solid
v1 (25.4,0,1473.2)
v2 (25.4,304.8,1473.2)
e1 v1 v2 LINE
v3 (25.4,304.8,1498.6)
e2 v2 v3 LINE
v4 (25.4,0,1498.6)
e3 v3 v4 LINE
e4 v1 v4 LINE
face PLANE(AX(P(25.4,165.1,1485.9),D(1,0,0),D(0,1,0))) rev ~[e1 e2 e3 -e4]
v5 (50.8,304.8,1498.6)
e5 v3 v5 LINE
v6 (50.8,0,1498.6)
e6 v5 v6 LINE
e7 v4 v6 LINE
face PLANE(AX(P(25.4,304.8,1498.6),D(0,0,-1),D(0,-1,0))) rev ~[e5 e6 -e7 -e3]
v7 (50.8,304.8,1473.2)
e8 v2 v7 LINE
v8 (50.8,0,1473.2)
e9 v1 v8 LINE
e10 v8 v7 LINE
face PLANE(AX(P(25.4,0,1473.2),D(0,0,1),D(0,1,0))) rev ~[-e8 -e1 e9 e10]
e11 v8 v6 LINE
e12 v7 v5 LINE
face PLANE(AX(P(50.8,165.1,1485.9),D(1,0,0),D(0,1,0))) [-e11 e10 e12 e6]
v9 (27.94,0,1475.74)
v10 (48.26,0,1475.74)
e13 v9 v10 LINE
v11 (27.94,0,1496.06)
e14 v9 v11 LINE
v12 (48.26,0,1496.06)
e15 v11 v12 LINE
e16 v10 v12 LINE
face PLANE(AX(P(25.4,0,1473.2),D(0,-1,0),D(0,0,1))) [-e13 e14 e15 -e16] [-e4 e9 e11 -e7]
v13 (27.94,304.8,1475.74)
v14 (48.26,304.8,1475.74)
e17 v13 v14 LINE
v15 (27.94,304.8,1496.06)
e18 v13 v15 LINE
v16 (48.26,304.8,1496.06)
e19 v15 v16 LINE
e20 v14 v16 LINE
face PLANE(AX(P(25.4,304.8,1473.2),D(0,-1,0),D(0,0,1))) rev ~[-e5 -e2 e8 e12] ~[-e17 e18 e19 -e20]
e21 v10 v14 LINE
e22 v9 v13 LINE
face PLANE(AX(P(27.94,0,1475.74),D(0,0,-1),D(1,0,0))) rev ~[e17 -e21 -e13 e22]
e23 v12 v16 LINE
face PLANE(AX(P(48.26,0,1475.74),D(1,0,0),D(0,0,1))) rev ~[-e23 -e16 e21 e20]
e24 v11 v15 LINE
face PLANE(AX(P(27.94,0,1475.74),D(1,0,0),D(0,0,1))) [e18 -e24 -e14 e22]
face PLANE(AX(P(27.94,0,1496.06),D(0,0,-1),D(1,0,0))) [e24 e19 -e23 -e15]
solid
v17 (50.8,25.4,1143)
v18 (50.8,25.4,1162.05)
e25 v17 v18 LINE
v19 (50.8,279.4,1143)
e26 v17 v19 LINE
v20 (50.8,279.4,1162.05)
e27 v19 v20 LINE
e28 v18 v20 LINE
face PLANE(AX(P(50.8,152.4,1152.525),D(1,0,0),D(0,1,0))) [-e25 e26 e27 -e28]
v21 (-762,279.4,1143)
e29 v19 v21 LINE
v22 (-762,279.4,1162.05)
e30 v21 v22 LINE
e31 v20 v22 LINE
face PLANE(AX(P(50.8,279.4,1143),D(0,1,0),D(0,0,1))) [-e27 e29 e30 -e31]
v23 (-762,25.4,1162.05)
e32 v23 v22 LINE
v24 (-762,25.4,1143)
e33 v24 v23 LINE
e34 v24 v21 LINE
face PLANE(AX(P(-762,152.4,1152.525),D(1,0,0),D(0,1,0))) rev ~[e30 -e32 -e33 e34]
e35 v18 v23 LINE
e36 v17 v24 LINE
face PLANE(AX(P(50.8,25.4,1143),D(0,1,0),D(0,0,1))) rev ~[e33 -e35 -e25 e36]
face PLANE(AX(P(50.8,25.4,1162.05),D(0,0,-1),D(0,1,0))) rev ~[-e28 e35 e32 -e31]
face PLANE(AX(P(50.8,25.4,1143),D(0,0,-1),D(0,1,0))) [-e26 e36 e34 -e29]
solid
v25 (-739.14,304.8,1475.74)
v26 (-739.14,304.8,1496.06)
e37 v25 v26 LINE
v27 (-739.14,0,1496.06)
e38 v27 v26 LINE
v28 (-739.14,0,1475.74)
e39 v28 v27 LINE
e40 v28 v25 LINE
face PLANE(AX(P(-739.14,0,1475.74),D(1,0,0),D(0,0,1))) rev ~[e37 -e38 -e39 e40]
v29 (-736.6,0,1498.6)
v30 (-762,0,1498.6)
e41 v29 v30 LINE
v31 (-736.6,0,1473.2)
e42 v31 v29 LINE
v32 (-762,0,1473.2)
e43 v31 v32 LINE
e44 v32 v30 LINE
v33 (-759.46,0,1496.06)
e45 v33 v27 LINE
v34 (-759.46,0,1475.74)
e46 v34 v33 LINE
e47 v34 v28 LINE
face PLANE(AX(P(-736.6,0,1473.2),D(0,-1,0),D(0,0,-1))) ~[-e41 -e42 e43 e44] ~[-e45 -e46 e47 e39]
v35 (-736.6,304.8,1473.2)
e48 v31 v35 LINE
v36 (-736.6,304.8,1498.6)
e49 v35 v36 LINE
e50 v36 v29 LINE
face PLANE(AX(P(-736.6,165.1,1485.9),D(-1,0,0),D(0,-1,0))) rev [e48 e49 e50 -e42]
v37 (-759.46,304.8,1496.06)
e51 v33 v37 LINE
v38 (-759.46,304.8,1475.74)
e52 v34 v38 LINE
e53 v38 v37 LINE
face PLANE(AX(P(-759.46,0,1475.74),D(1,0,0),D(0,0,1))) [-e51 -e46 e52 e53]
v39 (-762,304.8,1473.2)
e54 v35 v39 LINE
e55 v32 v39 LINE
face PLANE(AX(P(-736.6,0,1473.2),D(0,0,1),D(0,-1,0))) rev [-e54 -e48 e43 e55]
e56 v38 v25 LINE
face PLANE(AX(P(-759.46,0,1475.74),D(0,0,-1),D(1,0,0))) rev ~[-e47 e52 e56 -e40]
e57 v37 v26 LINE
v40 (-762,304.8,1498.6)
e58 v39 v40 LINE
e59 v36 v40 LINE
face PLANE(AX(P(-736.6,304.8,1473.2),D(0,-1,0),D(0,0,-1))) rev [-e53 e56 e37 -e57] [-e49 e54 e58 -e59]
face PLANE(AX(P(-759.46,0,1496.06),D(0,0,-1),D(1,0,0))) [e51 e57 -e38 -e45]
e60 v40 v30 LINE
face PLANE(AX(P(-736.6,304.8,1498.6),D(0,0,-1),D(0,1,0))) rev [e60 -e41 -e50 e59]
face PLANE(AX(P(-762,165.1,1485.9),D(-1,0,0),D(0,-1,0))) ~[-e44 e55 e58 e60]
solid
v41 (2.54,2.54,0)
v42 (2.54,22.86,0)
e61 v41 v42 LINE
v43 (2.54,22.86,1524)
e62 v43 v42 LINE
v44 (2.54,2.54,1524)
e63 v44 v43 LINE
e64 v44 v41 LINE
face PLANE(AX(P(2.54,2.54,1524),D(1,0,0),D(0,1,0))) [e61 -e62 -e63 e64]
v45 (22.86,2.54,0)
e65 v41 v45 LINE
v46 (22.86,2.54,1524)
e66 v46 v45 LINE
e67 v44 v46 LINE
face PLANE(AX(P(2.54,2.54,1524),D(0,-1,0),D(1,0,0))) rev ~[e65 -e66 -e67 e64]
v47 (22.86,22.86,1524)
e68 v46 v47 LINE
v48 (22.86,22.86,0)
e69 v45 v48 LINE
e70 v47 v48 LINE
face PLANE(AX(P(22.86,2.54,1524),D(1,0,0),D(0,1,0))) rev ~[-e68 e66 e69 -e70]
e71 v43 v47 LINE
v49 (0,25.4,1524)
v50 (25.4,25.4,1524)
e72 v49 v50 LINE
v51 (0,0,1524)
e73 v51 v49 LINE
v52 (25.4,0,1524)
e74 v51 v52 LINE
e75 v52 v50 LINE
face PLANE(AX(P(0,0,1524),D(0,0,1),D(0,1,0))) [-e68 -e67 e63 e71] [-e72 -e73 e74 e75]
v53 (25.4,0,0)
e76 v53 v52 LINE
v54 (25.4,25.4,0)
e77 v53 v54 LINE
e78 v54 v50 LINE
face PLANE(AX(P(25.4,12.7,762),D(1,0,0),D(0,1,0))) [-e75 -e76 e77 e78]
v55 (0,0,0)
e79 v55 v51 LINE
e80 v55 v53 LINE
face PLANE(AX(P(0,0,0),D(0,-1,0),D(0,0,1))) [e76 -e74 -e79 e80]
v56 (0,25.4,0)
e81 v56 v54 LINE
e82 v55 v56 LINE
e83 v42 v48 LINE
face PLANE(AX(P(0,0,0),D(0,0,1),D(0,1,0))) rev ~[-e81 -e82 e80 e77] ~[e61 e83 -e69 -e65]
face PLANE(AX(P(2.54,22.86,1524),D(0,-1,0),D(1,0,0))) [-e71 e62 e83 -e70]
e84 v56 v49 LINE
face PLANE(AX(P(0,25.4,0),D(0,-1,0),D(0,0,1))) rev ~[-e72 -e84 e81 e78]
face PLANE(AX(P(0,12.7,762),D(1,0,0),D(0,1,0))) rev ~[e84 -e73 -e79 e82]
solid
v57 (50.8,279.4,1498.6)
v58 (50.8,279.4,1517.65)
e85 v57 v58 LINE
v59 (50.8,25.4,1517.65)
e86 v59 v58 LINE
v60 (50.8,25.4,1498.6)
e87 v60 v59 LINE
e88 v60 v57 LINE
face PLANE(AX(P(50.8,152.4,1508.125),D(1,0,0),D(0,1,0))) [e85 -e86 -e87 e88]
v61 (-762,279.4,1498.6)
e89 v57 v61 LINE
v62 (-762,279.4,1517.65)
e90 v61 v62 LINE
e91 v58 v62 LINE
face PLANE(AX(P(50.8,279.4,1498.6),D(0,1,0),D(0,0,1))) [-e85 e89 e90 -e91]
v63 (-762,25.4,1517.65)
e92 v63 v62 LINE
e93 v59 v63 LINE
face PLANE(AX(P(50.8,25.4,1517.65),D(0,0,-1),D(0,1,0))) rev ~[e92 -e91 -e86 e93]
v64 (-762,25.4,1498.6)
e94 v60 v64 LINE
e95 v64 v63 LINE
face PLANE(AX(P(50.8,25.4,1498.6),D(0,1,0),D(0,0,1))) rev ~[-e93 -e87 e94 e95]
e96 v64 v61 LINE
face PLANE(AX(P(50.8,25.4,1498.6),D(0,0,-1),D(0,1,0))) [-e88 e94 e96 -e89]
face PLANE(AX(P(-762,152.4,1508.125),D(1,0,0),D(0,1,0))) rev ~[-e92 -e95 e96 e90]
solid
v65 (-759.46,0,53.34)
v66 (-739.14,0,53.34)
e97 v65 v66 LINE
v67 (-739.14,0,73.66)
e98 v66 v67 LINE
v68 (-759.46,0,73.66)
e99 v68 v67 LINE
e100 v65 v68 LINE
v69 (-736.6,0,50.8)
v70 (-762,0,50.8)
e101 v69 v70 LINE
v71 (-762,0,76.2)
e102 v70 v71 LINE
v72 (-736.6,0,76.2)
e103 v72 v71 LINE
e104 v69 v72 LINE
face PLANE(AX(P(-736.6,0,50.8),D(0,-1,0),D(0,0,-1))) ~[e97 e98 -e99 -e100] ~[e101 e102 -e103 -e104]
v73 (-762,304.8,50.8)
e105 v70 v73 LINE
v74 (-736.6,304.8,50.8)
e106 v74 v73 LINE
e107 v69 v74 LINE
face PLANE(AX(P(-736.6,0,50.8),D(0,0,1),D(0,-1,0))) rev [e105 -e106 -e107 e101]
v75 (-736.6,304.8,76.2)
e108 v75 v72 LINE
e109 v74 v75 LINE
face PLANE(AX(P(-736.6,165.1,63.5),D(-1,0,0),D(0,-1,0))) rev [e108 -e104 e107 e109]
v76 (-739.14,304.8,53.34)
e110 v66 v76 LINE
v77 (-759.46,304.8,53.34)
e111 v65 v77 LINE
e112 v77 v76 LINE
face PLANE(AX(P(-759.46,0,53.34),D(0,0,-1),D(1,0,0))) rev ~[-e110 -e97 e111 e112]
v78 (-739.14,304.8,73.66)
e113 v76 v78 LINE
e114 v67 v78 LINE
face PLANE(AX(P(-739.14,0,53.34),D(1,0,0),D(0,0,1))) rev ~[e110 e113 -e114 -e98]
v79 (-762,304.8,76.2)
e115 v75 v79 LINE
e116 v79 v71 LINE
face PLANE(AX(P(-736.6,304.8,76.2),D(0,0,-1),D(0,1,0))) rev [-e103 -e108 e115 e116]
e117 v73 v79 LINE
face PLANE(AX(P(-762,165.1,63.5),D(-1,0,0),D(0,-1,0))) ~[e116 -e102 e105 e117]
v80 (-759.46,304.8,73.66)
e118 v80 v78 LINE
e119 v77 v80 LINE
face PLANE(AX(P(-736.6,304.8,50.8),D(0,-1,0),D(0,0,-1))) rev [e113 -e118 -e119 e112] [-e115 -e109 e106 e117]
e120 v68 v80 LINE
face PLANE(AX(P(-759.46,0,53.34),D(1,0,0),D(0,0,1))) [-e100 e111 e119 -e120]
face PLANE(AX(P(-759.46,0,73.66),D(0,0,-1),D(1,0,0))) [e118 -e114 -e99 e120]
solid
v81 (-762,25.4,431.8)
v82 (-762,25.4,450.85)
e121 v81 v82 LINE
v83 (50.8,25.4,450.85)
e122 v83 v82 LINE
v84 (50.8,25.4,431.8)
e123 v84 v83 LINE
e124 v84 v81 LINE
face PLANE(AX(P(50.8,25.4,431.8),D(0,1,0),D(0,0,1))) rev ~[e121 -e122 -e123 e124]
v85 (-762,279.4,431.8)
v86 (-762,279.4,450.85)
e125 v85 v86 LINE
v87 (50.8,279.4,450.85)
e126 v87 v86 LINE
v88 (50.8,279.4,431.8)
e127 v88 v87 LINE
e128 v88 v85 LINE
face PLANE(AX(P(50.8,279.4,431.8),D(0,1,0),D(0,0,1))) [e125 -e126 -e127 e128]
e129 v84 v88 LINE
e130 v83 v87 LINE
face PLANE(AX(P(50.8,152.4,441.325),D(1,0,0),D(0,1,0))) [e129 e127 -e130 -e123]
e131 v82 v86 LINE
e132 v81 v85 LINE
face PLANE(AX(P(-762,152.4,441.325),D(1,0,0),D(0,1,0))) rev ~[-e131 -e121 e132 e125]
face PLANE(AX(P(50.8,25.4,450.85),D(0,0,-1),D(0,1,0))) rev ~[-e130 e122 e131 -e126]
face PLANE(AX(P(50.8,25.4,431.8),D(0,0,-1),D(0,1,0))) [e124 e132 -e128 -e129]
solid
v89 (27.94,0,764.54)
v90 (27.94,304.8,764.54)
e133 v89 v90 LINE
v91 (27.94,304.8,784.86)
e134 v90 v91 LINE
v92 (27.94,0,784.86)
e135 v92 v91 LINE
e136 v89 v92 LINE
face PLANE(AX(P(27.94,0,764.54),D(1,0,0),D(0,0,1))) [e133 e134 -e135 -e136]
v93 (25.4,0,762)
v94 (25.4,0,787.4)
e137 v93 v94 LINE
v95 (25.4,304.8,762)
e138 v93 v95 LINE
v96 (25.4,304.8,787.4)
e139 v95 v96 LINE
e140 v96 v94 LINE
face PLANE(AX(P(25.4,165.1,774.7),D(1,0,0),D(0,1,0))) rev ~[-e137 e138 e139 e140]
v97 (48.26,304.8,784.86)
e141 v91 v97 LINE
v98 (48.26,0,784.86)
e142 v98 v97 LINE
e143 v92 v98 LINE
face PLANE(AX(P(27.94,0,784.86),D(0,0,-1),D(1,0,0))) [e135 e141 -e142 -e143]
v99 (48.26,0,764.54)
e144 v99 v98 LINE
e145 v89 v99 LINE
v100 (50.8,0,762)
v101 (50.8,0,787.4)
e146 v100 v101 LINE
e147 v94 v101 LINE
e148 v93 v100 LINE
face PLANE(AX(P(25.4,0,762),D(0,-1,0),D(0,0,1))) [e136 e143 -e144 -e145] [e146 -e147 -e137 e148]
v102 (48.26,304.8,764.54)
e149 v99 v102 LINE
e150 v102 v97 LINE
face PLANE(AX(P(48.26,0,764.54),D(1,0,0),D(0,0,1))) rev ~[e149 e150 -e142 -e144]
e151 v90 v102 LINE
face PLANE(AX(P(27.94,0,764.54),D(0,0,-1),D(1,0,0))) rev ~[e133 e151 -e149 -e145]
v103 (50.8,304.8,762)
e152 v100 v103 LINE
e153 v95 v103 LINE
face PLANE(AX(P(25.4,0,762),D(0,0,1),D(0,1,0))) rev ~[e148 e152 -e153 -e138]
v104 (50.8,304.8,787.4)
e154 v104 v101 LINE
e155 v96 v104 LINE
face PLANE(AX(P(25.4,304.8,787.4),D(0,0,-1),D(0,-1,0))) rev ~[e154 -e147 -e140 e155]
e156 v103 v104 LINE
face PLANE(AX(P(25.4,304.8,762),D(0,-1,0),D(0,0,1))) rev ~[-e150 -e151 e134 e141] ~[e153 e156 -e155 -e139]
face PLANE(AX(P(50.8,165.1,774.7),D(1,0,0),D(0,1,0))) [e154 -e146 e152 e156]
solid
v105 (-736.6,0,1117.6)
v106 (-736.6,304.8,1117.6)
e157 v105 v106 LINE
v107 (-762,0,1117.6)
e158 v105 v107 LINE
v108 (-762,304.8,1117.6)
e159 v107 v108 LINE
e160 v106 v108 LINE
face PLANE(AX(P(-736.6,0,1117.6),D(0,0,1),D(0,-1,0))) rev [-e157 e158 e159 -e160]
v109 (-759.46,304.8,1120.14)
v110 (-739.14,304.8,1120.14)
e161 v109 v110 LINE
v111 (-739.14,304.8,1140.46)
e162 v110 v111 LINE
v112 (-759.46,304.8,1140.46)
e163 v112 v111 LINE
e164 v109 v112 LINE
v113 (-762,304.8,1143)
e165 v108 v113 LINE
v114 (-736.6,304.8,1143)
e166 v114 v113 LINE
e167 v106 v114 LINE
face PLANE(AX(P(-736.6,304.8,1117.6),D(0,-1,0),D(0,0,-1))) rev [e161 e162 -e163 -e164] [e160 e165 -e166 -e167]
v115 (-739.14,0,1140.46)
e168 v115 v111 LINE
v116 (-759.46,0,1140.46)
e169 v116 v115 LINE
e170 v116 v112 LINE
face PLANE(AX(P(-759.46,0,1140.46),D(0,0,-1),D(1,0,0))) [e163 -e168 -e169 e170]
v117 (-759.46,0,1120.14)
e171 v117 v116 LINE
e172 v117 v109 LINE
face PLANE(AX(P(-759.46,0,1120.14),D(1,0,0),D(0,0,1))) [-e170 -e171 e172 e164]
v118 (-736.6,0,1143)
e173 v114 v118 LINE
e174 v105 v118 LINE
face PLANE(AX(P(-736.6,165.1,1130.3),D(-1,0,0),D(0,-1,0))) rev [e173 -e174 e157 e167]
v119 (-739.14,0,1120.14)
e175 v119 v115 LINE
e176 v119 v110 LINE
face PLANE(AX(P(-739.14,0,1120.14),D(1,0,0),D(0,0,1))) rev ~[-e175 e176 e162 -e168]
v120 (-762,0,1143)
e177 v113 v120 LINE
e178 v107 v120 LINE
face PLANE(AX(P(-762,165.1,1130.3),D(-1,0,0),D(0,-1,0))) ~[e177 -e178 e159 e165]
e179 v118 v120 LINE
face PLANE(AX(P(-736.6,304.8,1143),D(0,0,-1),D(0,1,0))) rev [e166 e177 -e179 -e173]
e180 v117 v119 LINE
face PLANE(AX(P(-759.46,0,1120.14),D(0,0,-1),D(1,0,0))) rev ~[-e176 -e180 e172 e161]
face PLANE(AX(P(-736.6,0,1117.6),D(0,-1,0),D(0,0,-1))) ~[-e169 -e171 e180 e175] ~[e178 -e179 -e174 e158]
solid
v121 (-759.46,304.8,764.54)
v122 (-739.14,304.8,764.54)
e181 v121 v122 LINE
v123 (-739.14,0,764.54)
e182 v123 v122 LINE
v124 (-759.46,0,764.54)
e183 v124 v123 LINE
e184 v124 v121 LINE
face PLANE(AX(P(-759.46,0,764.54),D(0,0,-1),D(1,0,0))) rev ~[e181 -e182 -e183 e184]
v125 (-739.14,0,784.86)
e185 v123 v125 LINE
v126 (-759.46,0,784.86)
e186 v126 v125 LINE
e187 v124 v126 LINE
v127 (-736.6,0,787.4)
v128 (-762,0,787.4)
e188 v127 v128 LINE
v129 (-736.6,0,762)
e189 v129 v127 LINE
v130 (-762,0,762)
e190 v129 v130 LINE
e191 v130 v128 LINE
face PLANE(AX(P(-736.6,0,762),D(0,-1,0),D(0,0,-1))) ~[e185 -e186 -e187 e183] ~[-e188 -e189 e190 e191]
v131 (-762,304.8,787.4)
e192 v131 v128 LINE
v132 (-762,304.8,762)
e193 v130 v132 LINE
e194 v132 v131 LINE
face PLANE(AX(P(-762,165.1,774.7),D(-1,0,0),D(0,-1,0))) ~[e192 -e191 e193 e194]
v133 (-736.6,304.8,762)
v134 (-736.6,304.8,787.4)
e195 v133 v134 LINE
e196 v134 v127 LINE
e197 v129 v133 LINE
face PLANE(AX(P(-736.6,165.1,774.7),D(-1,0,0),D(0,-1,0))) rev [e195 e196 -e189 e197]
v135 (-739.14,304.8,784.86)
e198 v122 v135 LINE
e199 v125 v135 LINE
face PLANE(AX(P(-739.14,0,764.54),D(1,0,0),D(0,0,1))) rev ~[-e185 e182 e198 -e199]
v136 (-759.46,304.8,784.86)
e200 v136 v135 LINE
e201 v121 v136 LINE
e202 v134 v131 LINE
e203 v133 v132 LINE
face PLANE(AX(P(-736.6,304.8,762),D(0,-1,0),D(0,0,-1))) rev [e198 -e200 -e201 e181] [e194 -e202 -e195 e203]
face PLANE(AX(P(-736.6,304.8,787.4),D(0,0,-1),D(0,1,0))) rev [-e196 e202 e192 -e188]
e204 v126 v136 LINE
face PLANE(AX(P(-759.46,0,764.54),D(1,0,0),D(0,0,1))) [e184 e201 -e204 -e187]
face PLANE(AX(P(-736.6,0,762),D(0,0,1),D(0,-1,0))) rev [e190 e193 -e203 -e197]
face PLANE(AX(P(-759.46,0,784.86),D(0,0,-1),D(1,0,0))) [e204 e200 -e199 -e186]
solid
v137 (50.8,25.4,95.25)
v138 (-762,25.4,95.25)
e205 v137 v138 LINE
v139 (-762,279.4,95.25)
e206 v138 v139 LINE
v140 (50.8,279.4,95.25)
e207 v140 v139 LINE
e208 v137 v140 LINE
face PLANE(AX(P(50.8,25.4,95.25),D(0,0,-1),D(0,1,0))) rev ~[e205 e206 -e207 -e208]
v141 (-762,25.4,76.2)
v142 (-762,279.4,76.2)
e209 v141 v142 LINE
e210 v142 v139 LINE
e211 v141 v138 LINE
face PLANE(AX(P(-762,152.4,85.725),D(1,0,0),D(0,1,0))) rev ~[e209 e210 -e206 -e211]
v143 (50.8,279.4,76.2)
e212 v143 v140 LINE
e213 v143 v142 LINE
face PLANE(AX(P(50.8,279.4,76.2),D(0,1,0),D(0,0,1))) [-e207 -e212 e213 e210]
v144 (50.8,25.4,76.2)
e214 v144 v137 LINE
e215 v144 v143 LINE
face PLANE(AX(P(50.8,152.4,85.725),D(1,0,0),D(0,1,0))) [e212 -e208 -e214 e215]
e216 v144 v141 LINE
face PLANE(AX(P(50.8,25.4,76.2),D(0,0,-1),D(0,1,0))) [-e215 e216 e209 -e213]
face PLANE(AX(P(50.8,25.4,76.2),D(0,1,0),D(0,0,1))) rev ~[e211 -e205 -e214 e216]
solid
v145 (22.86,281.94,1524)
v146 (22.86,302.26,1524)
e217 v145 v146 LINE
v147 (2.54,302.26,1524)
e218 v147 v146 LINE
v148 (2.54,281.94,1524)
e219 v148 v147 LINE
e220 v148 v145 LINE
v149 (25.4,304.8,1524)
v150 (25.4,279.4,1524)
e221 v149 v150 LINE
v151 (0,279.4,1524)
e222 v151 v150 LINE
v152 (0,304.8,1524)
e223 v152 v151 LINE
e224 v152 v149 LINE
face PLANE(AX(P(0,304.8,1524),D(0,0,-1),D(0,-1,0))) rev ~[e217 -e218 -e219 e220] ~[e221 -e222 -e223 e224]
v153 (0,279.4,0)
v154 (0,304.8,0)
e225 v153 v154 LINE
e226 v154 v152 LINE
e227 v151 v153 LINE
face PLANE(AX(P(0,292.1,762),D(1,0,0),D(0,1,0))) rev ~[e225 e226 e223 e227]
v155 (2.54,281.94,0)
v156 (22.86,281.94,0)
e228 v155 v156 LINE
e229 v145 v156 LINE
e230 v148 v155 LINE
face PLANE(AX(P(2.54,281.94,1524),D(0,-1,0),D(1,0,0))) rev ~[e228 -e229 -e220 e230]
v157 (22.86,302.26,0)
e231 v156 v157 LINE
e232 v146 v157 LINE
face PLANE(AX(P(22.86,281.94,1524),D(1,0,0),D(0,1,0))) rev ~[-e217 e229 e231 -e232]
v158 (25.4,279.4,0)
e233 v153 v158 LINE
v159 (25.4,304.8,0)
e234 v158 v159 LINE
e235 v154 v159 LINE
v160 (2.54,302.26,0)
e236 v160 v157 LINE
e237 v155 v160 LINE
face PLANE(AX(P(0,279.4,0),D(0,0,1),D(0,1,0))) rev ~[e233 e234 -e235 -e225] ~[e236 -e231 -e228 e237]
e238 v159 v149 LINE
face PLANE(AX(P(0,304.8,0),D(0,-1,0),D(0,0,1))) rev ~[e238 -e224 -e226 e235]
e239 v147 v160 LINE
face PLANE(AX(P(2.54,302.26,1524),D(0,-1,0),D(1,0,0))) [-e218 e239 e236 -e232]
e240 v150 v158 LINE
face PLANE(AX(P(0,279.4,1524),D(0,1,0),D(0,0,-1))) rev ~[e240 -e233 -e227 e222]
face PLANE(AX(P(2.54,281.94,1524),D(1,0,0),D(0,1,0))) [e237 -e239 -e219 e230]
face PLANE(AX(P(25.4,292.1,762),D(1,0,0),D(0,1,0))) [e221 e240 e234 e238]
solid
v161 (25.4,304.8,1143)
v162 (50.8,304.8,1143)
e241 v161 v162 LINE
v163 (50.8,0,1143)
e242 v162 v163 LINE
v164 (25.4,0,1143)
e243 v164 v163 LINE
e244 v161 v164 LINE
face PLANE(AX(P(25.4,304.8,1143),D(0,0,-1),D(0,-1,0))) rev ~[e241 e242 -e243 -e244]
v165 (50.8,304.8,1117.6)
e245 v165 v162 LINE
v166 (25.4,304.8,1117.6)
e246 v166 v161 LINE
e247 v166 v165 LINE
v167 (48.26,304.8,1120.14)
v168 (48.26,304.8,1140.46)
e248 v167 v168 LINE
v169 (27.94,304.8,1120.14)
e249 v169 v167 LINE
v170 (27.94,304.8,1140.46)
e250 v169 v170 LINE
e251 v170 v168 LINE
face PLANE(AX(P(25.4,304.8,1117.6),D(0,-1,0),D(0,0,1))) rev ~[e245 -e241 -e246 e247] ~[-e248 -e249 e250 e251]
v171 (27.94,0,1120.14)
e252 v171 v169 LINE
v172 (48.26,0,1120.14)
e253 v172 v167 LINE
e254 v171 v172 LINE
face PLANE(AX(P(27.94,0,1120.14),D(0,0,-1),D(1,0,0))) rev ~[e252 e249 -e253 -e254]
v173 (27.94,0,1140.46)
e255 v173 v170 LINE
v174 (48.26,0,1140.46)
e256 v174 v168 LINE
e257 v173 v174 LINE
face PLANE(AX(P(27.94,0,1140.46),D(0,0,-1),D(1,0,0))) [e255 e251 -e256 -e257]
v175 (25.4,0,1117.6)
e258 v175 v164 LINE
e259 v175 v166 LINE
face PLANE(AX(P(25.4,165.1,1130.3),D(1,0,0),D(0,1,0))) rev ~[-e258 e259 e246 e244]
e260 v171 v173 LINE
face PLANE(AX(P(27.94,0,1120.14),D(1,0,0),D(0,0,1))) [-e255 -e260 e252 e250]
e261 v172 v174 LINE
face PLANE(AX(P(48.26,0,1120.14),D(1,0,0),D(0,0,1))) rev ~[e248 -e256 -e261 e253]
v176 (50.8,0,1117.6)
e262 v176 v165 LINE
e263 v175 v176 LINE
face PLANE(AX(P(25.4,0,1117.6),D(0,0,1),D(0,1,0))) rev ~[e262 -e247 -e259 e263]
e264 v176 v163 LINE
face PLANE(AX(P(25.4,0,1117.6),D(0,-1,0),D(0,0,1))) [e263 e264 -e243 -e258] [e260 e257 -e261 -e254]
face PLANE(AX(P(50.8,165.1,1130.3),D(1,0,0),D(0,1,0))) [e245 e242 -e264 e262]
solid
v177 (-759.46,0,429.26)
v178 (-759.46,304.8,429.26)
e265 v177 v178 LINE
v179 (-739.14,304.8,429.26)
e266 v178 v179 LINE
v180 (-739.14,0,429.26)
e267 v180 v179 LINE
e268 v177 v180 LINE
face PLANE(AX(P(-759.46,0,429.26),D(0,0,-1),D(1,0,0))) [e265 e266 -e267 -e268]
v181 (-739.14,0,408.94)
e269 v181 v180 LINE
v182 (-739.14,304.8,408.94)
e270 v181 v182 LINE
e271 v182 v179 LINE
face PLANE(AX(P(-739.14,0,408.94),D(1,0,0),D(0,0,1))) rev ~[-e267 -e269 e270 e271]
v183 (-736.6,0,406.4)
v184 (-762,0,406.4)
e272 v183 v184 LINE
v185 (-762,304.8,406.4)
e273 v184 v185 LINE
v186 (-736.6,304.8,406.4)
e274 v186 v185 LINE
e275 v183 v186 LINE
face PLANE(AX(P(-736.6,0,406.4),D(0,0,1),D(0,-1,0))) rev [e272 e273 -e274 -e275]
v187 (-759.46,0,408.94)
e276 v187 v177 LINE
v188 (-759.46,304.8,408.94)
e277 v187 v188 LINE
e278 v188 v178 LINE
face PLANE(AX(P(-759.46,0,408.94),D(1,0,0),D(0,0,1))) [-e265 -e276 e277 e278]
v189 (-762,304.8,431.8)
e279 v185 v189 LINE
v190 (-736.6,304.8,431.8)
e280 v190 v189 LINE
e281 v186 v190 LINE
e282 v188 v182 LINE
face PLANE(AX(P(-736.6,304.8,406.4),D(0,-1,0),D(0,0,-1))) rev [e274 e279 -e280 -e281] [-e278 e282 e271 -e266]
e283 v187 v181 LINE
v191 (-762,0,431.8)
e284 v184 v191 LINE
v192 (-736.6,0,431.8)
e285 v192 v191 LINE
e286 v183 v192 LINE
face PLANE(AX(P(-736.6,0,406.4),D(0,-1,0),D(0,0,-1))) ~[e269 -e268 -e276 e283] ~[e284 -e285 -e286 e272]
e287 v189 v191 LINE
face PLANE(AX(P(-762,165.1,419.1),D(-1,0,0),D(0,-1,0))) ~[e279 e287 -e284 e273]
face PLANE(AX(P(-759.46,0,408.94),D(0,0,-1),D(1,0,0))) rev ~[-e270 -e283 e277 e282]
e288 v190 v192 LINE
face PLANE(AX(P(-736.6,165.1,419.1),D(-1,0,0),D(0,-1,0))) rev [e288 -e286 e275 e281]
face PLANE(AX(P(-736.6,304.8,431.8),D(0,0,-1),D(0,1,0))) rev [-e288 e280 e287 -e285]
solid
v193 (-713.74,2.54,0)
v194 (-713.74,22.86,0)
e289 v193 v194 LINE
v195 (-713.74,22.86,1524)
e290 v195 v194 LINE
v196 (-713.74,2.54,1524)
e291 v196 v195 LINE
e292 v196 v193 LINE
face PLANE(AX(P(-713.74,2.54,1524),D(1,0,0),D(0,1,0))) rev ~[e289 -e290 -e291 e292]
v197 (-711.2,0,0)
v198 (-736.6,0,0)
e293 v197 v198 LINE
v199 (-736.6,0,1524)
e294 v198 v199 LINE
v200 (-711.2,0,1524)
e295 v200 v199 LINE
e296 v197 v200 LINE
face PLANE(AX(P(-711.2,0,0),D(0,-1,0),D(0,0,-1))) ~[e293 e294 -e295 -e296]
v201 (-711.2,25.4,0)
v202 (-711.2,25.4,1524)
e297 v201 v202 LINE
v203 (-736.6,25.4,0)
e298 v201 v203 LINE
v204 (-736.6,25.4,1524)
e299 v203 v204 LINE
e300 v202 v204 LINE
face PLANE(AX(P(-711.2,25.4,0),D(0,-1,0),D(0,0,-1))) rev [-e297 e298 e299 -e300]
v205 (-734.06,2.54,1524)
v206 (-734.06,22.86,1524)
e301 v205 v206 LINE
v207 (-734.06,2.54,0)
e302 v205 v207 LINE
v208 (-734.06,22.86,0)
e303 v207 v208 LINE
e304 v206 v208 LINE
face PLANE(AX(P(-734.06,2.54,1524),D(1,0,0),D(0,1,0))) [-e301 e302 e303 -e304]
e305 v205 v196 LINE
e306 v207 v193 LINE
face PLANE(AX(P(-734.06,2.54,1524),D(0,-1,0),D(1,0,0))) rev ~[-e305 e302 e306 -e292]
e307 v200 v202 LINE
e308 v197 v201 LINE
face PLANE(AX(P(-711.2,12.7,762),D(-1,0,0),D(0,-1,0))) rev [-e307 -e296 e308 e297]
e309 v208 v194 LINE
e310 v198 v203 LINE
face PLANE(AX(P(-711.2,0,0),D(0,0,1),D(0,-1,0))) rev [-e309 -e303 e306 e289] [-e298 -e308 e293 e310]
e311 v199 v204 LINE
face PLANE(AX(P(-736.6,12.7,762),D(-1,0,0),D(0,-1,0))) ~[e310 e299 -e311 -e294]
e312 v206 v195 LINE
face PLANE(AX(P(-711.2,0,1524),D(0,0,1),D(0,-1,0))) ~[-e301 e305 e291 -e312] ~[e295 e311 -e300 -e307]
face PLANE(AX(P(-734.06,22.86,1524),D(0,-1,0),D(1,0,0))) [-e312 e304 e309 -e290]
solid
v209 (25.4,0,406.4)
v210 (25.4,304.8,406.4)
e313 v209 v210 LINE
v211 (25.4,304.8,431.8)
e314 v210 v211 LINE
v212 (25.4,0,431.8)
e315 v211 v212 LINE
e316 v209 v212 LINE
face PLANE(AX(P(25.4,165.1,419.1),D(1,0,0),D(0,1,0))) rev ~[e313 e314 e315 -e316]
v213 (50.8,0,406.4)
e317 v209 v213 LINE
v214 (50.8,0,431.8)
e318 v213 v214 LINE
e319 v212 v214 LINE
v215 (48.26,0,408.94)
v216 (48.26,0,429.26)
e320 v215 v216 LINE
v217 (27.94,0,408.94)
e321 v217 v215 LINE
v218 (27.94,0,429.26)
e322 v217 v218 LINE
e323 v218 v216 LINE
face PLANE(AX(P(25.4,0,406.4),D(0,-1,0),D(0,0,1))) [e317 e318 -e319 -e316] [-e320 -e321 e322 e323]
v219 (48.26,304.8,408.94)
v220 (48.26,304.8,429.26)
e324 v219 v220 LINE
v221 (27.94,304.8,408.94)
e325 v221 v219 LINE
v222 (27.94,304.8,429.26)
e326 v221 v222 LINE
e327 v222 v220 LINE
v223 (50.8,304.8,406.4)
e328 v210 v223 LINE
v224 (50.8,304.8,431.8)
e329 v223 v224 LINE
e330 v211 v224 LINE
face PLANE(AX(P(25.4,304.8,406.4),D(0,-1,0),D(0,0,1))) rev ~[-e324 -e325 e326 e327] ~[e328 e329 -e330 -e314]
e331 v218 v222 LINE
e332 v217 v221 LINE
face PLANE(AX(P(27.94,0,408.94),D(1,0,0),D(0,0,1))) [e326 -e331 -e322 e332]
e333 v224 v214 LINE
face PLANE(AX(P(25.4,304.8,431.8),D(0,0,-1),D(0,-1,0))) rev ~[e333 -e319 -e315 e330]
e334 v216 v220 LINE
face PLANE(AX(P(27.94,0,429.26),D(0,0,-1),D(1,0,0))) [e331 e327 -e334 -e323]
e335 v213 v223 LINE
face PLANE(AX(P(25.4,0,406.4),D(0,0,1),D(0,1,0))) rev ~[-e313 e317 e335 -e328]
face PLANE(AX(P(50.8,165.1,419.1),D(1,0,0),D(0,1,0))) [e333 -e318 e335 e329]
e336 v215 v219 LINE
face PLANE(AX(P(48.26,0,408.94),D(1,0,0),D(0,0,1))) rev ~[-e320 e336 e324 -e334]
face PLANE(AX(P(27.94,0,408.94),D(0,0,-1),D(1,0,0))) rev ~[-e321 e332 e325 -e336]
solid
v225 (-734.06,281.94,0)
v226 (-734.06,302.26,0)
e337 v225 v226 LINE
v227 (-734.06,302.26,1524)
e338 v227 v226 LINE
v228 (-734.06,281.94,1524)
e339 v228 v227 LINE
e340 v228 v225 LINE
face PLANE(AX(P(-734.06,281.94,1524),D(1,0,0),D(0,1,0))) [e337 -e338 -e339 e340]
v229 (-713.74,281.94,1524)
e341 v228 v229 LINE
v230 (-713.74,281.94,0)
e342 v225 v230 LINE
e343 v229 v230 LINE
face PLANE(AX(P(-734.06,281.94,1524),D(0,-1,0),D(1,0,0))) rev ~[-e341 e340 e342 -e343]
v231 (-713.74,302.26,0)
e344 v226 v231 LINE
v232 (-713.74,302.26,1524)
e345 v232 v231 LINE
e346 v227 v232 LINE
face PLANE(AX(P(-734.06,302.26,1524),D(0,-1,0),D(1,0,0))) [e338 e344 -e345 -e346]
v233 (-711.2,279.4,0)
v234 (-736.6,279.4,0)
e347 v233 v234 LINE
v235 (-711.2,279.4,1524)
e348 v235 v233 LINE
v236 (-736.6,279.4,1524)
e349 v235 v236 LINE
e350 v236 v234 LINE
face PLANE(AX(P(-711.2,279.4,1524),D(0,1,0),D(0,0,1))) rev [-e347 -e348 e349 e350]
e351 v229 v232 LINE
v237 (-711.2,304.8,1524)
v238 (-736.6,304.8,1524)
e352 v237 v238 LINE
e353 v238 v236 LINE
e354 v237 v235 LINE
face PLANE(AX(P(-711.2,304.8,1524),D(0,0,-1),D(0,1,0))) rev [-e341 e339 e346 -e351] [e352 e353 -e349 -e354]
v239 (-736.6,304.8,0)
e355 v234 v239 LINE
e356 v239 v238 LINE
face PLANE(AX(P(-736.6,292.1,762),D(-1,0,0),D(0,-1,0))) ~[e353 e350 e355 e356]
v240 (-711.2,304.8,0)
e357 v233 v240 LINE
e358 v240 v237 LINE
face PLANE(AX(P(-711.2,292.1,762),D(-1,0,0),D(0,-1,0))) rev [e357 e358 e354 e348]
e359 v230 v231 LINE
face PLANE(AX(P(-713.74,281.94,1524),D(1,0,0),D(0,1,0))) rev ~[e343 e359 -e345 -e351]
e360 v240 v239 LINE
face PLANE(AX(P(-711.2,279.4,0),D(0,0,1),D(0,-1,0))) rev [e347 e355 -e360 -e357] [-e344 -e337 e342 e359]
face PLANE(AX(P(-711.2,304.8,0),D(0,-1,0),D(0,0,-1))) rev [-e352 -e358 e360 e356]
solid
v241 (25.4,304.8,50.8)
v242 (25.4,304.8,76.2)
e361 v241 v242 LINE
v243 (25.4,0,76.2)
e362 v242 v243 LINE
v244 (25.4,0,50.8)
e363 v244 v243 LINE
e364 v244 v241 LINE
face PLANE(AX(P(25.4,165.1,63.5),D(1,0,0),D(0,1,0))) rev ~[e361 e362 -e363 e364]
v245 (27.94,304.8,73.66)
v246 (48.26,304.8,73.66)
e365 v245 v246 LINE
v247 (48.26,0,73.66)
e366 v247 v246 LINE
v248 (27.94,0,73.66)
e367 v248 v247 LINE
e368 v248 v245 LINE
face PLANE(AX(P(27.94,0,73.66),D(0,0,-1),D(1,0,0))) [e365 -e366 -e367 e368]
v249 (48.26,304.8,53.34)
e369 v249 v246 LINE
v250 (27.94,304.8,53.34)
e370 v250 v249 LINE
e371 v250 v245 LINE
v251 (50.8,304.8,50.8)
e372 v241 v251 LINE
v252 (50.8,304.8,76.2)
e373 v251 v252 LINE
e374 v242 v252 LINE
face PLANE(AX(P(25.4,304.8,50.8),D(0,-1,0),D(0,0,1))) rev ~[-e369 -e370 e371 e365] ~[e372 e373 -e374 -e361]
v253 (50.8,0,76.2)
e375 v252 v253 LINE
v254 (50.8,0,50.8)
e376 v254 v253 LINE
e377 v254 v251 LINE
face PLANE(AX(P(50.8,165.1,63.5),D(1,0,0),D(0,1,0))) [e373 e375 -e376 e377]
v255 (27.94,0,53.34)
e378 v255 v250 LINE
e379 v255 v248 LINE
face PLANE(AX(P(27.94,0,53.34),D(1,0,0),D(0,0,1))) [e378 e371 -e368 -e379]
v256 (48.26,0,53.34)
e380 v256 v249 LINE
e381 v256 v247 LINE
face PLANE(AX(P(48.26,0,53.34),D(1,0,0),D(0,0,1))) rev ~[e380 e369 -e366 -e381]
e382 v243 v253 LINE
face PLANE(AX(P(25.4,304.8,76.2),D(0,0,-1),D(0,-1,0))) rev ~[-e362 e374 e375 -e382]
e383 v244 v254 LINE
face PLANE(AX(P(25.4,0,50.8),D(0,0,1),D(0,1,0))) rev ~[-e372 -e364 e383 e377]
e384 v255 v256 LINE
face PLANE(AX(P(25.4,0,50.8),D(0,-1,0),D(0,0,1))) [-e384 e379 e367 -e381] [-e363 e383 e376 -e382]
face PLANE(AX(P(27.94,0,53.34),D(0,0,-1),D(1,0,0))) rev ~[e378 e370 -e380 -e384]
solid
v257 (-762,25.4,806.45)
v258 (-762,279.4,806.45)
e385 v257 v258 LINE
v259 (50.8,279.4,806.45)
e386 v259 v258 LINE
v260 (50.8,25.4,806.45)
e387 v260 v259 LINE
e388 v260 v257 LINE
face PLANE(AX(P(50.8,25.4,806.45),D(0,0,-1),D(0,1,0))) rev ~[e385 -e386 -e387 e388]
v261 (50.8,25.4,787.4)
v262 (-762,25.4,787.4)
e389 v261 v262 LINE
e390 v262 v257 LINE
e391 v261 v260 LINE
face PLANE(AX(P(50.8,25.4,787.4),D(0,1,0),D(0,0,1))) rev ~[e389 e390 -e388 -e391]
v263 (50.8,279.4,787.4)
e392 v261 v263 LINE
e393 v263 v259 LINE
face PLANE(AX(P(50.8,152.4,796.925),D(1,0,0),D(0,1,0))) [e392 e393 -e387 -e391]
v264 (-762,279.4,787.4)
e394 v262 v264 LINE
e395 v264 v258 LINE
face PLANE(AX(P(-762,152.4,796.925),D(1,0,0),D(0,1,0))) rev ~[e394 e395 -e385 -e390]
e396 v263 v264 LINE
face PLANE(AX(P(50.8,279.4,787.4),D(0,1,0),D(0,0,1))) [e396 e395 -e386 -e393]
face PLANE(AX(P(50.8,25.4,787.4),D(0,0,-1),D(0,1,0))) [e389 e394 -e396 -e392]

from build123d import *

# Parameters (mm, degrees)
F0_W      = 25.4
F0_H      = 1524
F1_DEPTH  = 25.4
F2_W      = 279.4
F2_H      = 25.4
F2_W_2    = 25.4
F4_DEPTH  = 25.4
F6_W      = 254
F6_H      = 19.05
F7_DEPTH  = 812.8
F8_W      = 20.32
F8_H      = 20.32
F9_DEPTH  = 304.8
F10_W     = 20.32
F10_H     = 20.32
F11_DEPTH = 1524


with BuildPart() as f1:
    # F0 (on Right) → F1 (new body)
    with BuildSketch(Plane.YZ):
        with Locations((12.7, 762)):
            Rectangle(F0_W, F0_H)
        Polygon((304.8, 1524), (279.4, 1524), (279.4, 1498.6), (279.4, 0), (304.8, 0), align=None)
    extrude(amount=F1_DEPTH)


with BuildPart() as f4:
    # F2 (on face) → F4 (new body)
    with BuildSketch(Plane.YZ.offset(25.4)):
        with Locations((165.1, 1485.9)):
            Rectangle(F2_W, F2_H)
        with Locations((165.1, 1130.3)):
            Rectangle(F2_W, F2_H)
        with Locations((165.1, 774.7)):
            Rectangle(F2_W, F2_H)
        with Locations((165.1, 419.1)):
            Rectangle(F2_W, F2_H)
        with Locations((165.1, 63.5)):
            Rectangle(F2_W, F2_H)
        with Locations((12.7, 1130.3)):
            Rectangle(F2_W_2, F2_H)
        with Locations((12.7, 774.7)):
            Rectangle(F2_W_2, F2_H)
        with Locations((12.7, 419.1)):
            Rectangle(F2_W_2, F2_H)
        with Locations((12.7, 63.5)):
            Rectangle(F2_W_2, F2_H)
        with Locations((12.7, 1485.9)):
            Rectangle(F2_W_2, F2_H)
    extrude(amount=F4_DEPTH)


with BuildPart() as f5_1:
    # F5: instance of F1
    add(f1.part.mirror(Plane.YZ.offset(-355.6)))


with BuildPart() as f5_2:
    # F5: instance of F4
    add(f4.part.mirror(Plane.YZ.offset(-355.6)))


with BuildPart() as f7:
    # F6 (on face) → F7 (new body)
    with BuildSketch(Plane.YZ.offset(50.8)):
        with Locations((152.4, 1508.125)):
            Rectangle(F6_W, F6_H)
        with Locations((152.4, 1152.525)):
            Rectangle(F6_W, F6_H)
        with Locations((152.4, 796.925)):
            Rectangle(F6_W, F6_H)
        with Locations((152.4, 441.325)):
            Rectangle(F6_W, F6_H)
        with Locations((152.4, 85.725)):
            Rectangle(F6_W, F6_H)
    extrude(amount=-F7_DEPTH)


with BuildPart() as f9_tool:
    # F8 (on face) → F9 (new body)
    with BuildSketch(Plane.XZ):
        with Locations((-749.3, 1485.9)):
            Rectangle(F8_W, F8_H)
        with Locations((-749.3, 1130.3)):
            Rectangle(F8_W, F8_H)
        with Locations((-749.3, 774.7)):
            Rectangle(F8_W, F8_H)
        with Locations((-749.3, 419.1)):
            Rectangle(F8_W, F8_H)
        with Locations((-749.3, 63.5)):
            Rectangle(F8_W, F8_H)
        with Locations((38.1, 63.5)):
            Rectangle(F8_W, F8_H)
        with Locations((38.1, 774.7)):
            Rectangle(F8_W, F8_H)
        with Locations((38.1, 419.1)):
            Rectangle(F8_W, F8_H)
        with Locations((38.1, 1485.9)):
            Rectangle(F8_W, F8_H)
        with Locations((38.1, 1130.3)):
            Rectangle(F8_W, F8_H)
    extrude(amount=-F9_DEPTH)


with BuildPart() as f4_1:
    add(f4.part)

    # F9: cut by f9_tool
    add(f9_tool.part, mode=Mode.SUBTRACT)


with BuildPart() as f5_2_1:
    add(f5_2.part)

    # F9: cut by f9_tool
    add(f9_tool.part, mode=Mode.SUBTRACT)


with BuildPart() as f11_tool:
    # F10 (on face) → F11 (new body)
    with BuildSketch(Plane.XY.offset(1524)):
        with Locations((-723.9, 12.7)):
            Rectangle(F10_W, F10_H)
        with Locations((-723.9, 292.1)):
            Rectangle(F10_W, F10_H)
        with Locations((12.7, 12.7)):
            Rectangle(F10_W, F10_H)
        with Locations((12.7, 292.1)):
            Rectangle(F10_W, F10_H)
    extrude(amount=-F11_DEPTH)


with BuildPart() as f1_1:
    add(f1.part)

    # F11: cut by f11_tool
    add(f11_tool.part, mode=Mode.SUBTRACT)


with BuildPart() as f5_1_1:
    add(f5_1.part)

    # F11: cut by f11_tool
    add(f11_tool.part, mode=Mode.SUBTRACT)


solid = Compound([f7.part, f4_1.part, f5_2_1.part, f1_1.part, f5_1_1.part])
